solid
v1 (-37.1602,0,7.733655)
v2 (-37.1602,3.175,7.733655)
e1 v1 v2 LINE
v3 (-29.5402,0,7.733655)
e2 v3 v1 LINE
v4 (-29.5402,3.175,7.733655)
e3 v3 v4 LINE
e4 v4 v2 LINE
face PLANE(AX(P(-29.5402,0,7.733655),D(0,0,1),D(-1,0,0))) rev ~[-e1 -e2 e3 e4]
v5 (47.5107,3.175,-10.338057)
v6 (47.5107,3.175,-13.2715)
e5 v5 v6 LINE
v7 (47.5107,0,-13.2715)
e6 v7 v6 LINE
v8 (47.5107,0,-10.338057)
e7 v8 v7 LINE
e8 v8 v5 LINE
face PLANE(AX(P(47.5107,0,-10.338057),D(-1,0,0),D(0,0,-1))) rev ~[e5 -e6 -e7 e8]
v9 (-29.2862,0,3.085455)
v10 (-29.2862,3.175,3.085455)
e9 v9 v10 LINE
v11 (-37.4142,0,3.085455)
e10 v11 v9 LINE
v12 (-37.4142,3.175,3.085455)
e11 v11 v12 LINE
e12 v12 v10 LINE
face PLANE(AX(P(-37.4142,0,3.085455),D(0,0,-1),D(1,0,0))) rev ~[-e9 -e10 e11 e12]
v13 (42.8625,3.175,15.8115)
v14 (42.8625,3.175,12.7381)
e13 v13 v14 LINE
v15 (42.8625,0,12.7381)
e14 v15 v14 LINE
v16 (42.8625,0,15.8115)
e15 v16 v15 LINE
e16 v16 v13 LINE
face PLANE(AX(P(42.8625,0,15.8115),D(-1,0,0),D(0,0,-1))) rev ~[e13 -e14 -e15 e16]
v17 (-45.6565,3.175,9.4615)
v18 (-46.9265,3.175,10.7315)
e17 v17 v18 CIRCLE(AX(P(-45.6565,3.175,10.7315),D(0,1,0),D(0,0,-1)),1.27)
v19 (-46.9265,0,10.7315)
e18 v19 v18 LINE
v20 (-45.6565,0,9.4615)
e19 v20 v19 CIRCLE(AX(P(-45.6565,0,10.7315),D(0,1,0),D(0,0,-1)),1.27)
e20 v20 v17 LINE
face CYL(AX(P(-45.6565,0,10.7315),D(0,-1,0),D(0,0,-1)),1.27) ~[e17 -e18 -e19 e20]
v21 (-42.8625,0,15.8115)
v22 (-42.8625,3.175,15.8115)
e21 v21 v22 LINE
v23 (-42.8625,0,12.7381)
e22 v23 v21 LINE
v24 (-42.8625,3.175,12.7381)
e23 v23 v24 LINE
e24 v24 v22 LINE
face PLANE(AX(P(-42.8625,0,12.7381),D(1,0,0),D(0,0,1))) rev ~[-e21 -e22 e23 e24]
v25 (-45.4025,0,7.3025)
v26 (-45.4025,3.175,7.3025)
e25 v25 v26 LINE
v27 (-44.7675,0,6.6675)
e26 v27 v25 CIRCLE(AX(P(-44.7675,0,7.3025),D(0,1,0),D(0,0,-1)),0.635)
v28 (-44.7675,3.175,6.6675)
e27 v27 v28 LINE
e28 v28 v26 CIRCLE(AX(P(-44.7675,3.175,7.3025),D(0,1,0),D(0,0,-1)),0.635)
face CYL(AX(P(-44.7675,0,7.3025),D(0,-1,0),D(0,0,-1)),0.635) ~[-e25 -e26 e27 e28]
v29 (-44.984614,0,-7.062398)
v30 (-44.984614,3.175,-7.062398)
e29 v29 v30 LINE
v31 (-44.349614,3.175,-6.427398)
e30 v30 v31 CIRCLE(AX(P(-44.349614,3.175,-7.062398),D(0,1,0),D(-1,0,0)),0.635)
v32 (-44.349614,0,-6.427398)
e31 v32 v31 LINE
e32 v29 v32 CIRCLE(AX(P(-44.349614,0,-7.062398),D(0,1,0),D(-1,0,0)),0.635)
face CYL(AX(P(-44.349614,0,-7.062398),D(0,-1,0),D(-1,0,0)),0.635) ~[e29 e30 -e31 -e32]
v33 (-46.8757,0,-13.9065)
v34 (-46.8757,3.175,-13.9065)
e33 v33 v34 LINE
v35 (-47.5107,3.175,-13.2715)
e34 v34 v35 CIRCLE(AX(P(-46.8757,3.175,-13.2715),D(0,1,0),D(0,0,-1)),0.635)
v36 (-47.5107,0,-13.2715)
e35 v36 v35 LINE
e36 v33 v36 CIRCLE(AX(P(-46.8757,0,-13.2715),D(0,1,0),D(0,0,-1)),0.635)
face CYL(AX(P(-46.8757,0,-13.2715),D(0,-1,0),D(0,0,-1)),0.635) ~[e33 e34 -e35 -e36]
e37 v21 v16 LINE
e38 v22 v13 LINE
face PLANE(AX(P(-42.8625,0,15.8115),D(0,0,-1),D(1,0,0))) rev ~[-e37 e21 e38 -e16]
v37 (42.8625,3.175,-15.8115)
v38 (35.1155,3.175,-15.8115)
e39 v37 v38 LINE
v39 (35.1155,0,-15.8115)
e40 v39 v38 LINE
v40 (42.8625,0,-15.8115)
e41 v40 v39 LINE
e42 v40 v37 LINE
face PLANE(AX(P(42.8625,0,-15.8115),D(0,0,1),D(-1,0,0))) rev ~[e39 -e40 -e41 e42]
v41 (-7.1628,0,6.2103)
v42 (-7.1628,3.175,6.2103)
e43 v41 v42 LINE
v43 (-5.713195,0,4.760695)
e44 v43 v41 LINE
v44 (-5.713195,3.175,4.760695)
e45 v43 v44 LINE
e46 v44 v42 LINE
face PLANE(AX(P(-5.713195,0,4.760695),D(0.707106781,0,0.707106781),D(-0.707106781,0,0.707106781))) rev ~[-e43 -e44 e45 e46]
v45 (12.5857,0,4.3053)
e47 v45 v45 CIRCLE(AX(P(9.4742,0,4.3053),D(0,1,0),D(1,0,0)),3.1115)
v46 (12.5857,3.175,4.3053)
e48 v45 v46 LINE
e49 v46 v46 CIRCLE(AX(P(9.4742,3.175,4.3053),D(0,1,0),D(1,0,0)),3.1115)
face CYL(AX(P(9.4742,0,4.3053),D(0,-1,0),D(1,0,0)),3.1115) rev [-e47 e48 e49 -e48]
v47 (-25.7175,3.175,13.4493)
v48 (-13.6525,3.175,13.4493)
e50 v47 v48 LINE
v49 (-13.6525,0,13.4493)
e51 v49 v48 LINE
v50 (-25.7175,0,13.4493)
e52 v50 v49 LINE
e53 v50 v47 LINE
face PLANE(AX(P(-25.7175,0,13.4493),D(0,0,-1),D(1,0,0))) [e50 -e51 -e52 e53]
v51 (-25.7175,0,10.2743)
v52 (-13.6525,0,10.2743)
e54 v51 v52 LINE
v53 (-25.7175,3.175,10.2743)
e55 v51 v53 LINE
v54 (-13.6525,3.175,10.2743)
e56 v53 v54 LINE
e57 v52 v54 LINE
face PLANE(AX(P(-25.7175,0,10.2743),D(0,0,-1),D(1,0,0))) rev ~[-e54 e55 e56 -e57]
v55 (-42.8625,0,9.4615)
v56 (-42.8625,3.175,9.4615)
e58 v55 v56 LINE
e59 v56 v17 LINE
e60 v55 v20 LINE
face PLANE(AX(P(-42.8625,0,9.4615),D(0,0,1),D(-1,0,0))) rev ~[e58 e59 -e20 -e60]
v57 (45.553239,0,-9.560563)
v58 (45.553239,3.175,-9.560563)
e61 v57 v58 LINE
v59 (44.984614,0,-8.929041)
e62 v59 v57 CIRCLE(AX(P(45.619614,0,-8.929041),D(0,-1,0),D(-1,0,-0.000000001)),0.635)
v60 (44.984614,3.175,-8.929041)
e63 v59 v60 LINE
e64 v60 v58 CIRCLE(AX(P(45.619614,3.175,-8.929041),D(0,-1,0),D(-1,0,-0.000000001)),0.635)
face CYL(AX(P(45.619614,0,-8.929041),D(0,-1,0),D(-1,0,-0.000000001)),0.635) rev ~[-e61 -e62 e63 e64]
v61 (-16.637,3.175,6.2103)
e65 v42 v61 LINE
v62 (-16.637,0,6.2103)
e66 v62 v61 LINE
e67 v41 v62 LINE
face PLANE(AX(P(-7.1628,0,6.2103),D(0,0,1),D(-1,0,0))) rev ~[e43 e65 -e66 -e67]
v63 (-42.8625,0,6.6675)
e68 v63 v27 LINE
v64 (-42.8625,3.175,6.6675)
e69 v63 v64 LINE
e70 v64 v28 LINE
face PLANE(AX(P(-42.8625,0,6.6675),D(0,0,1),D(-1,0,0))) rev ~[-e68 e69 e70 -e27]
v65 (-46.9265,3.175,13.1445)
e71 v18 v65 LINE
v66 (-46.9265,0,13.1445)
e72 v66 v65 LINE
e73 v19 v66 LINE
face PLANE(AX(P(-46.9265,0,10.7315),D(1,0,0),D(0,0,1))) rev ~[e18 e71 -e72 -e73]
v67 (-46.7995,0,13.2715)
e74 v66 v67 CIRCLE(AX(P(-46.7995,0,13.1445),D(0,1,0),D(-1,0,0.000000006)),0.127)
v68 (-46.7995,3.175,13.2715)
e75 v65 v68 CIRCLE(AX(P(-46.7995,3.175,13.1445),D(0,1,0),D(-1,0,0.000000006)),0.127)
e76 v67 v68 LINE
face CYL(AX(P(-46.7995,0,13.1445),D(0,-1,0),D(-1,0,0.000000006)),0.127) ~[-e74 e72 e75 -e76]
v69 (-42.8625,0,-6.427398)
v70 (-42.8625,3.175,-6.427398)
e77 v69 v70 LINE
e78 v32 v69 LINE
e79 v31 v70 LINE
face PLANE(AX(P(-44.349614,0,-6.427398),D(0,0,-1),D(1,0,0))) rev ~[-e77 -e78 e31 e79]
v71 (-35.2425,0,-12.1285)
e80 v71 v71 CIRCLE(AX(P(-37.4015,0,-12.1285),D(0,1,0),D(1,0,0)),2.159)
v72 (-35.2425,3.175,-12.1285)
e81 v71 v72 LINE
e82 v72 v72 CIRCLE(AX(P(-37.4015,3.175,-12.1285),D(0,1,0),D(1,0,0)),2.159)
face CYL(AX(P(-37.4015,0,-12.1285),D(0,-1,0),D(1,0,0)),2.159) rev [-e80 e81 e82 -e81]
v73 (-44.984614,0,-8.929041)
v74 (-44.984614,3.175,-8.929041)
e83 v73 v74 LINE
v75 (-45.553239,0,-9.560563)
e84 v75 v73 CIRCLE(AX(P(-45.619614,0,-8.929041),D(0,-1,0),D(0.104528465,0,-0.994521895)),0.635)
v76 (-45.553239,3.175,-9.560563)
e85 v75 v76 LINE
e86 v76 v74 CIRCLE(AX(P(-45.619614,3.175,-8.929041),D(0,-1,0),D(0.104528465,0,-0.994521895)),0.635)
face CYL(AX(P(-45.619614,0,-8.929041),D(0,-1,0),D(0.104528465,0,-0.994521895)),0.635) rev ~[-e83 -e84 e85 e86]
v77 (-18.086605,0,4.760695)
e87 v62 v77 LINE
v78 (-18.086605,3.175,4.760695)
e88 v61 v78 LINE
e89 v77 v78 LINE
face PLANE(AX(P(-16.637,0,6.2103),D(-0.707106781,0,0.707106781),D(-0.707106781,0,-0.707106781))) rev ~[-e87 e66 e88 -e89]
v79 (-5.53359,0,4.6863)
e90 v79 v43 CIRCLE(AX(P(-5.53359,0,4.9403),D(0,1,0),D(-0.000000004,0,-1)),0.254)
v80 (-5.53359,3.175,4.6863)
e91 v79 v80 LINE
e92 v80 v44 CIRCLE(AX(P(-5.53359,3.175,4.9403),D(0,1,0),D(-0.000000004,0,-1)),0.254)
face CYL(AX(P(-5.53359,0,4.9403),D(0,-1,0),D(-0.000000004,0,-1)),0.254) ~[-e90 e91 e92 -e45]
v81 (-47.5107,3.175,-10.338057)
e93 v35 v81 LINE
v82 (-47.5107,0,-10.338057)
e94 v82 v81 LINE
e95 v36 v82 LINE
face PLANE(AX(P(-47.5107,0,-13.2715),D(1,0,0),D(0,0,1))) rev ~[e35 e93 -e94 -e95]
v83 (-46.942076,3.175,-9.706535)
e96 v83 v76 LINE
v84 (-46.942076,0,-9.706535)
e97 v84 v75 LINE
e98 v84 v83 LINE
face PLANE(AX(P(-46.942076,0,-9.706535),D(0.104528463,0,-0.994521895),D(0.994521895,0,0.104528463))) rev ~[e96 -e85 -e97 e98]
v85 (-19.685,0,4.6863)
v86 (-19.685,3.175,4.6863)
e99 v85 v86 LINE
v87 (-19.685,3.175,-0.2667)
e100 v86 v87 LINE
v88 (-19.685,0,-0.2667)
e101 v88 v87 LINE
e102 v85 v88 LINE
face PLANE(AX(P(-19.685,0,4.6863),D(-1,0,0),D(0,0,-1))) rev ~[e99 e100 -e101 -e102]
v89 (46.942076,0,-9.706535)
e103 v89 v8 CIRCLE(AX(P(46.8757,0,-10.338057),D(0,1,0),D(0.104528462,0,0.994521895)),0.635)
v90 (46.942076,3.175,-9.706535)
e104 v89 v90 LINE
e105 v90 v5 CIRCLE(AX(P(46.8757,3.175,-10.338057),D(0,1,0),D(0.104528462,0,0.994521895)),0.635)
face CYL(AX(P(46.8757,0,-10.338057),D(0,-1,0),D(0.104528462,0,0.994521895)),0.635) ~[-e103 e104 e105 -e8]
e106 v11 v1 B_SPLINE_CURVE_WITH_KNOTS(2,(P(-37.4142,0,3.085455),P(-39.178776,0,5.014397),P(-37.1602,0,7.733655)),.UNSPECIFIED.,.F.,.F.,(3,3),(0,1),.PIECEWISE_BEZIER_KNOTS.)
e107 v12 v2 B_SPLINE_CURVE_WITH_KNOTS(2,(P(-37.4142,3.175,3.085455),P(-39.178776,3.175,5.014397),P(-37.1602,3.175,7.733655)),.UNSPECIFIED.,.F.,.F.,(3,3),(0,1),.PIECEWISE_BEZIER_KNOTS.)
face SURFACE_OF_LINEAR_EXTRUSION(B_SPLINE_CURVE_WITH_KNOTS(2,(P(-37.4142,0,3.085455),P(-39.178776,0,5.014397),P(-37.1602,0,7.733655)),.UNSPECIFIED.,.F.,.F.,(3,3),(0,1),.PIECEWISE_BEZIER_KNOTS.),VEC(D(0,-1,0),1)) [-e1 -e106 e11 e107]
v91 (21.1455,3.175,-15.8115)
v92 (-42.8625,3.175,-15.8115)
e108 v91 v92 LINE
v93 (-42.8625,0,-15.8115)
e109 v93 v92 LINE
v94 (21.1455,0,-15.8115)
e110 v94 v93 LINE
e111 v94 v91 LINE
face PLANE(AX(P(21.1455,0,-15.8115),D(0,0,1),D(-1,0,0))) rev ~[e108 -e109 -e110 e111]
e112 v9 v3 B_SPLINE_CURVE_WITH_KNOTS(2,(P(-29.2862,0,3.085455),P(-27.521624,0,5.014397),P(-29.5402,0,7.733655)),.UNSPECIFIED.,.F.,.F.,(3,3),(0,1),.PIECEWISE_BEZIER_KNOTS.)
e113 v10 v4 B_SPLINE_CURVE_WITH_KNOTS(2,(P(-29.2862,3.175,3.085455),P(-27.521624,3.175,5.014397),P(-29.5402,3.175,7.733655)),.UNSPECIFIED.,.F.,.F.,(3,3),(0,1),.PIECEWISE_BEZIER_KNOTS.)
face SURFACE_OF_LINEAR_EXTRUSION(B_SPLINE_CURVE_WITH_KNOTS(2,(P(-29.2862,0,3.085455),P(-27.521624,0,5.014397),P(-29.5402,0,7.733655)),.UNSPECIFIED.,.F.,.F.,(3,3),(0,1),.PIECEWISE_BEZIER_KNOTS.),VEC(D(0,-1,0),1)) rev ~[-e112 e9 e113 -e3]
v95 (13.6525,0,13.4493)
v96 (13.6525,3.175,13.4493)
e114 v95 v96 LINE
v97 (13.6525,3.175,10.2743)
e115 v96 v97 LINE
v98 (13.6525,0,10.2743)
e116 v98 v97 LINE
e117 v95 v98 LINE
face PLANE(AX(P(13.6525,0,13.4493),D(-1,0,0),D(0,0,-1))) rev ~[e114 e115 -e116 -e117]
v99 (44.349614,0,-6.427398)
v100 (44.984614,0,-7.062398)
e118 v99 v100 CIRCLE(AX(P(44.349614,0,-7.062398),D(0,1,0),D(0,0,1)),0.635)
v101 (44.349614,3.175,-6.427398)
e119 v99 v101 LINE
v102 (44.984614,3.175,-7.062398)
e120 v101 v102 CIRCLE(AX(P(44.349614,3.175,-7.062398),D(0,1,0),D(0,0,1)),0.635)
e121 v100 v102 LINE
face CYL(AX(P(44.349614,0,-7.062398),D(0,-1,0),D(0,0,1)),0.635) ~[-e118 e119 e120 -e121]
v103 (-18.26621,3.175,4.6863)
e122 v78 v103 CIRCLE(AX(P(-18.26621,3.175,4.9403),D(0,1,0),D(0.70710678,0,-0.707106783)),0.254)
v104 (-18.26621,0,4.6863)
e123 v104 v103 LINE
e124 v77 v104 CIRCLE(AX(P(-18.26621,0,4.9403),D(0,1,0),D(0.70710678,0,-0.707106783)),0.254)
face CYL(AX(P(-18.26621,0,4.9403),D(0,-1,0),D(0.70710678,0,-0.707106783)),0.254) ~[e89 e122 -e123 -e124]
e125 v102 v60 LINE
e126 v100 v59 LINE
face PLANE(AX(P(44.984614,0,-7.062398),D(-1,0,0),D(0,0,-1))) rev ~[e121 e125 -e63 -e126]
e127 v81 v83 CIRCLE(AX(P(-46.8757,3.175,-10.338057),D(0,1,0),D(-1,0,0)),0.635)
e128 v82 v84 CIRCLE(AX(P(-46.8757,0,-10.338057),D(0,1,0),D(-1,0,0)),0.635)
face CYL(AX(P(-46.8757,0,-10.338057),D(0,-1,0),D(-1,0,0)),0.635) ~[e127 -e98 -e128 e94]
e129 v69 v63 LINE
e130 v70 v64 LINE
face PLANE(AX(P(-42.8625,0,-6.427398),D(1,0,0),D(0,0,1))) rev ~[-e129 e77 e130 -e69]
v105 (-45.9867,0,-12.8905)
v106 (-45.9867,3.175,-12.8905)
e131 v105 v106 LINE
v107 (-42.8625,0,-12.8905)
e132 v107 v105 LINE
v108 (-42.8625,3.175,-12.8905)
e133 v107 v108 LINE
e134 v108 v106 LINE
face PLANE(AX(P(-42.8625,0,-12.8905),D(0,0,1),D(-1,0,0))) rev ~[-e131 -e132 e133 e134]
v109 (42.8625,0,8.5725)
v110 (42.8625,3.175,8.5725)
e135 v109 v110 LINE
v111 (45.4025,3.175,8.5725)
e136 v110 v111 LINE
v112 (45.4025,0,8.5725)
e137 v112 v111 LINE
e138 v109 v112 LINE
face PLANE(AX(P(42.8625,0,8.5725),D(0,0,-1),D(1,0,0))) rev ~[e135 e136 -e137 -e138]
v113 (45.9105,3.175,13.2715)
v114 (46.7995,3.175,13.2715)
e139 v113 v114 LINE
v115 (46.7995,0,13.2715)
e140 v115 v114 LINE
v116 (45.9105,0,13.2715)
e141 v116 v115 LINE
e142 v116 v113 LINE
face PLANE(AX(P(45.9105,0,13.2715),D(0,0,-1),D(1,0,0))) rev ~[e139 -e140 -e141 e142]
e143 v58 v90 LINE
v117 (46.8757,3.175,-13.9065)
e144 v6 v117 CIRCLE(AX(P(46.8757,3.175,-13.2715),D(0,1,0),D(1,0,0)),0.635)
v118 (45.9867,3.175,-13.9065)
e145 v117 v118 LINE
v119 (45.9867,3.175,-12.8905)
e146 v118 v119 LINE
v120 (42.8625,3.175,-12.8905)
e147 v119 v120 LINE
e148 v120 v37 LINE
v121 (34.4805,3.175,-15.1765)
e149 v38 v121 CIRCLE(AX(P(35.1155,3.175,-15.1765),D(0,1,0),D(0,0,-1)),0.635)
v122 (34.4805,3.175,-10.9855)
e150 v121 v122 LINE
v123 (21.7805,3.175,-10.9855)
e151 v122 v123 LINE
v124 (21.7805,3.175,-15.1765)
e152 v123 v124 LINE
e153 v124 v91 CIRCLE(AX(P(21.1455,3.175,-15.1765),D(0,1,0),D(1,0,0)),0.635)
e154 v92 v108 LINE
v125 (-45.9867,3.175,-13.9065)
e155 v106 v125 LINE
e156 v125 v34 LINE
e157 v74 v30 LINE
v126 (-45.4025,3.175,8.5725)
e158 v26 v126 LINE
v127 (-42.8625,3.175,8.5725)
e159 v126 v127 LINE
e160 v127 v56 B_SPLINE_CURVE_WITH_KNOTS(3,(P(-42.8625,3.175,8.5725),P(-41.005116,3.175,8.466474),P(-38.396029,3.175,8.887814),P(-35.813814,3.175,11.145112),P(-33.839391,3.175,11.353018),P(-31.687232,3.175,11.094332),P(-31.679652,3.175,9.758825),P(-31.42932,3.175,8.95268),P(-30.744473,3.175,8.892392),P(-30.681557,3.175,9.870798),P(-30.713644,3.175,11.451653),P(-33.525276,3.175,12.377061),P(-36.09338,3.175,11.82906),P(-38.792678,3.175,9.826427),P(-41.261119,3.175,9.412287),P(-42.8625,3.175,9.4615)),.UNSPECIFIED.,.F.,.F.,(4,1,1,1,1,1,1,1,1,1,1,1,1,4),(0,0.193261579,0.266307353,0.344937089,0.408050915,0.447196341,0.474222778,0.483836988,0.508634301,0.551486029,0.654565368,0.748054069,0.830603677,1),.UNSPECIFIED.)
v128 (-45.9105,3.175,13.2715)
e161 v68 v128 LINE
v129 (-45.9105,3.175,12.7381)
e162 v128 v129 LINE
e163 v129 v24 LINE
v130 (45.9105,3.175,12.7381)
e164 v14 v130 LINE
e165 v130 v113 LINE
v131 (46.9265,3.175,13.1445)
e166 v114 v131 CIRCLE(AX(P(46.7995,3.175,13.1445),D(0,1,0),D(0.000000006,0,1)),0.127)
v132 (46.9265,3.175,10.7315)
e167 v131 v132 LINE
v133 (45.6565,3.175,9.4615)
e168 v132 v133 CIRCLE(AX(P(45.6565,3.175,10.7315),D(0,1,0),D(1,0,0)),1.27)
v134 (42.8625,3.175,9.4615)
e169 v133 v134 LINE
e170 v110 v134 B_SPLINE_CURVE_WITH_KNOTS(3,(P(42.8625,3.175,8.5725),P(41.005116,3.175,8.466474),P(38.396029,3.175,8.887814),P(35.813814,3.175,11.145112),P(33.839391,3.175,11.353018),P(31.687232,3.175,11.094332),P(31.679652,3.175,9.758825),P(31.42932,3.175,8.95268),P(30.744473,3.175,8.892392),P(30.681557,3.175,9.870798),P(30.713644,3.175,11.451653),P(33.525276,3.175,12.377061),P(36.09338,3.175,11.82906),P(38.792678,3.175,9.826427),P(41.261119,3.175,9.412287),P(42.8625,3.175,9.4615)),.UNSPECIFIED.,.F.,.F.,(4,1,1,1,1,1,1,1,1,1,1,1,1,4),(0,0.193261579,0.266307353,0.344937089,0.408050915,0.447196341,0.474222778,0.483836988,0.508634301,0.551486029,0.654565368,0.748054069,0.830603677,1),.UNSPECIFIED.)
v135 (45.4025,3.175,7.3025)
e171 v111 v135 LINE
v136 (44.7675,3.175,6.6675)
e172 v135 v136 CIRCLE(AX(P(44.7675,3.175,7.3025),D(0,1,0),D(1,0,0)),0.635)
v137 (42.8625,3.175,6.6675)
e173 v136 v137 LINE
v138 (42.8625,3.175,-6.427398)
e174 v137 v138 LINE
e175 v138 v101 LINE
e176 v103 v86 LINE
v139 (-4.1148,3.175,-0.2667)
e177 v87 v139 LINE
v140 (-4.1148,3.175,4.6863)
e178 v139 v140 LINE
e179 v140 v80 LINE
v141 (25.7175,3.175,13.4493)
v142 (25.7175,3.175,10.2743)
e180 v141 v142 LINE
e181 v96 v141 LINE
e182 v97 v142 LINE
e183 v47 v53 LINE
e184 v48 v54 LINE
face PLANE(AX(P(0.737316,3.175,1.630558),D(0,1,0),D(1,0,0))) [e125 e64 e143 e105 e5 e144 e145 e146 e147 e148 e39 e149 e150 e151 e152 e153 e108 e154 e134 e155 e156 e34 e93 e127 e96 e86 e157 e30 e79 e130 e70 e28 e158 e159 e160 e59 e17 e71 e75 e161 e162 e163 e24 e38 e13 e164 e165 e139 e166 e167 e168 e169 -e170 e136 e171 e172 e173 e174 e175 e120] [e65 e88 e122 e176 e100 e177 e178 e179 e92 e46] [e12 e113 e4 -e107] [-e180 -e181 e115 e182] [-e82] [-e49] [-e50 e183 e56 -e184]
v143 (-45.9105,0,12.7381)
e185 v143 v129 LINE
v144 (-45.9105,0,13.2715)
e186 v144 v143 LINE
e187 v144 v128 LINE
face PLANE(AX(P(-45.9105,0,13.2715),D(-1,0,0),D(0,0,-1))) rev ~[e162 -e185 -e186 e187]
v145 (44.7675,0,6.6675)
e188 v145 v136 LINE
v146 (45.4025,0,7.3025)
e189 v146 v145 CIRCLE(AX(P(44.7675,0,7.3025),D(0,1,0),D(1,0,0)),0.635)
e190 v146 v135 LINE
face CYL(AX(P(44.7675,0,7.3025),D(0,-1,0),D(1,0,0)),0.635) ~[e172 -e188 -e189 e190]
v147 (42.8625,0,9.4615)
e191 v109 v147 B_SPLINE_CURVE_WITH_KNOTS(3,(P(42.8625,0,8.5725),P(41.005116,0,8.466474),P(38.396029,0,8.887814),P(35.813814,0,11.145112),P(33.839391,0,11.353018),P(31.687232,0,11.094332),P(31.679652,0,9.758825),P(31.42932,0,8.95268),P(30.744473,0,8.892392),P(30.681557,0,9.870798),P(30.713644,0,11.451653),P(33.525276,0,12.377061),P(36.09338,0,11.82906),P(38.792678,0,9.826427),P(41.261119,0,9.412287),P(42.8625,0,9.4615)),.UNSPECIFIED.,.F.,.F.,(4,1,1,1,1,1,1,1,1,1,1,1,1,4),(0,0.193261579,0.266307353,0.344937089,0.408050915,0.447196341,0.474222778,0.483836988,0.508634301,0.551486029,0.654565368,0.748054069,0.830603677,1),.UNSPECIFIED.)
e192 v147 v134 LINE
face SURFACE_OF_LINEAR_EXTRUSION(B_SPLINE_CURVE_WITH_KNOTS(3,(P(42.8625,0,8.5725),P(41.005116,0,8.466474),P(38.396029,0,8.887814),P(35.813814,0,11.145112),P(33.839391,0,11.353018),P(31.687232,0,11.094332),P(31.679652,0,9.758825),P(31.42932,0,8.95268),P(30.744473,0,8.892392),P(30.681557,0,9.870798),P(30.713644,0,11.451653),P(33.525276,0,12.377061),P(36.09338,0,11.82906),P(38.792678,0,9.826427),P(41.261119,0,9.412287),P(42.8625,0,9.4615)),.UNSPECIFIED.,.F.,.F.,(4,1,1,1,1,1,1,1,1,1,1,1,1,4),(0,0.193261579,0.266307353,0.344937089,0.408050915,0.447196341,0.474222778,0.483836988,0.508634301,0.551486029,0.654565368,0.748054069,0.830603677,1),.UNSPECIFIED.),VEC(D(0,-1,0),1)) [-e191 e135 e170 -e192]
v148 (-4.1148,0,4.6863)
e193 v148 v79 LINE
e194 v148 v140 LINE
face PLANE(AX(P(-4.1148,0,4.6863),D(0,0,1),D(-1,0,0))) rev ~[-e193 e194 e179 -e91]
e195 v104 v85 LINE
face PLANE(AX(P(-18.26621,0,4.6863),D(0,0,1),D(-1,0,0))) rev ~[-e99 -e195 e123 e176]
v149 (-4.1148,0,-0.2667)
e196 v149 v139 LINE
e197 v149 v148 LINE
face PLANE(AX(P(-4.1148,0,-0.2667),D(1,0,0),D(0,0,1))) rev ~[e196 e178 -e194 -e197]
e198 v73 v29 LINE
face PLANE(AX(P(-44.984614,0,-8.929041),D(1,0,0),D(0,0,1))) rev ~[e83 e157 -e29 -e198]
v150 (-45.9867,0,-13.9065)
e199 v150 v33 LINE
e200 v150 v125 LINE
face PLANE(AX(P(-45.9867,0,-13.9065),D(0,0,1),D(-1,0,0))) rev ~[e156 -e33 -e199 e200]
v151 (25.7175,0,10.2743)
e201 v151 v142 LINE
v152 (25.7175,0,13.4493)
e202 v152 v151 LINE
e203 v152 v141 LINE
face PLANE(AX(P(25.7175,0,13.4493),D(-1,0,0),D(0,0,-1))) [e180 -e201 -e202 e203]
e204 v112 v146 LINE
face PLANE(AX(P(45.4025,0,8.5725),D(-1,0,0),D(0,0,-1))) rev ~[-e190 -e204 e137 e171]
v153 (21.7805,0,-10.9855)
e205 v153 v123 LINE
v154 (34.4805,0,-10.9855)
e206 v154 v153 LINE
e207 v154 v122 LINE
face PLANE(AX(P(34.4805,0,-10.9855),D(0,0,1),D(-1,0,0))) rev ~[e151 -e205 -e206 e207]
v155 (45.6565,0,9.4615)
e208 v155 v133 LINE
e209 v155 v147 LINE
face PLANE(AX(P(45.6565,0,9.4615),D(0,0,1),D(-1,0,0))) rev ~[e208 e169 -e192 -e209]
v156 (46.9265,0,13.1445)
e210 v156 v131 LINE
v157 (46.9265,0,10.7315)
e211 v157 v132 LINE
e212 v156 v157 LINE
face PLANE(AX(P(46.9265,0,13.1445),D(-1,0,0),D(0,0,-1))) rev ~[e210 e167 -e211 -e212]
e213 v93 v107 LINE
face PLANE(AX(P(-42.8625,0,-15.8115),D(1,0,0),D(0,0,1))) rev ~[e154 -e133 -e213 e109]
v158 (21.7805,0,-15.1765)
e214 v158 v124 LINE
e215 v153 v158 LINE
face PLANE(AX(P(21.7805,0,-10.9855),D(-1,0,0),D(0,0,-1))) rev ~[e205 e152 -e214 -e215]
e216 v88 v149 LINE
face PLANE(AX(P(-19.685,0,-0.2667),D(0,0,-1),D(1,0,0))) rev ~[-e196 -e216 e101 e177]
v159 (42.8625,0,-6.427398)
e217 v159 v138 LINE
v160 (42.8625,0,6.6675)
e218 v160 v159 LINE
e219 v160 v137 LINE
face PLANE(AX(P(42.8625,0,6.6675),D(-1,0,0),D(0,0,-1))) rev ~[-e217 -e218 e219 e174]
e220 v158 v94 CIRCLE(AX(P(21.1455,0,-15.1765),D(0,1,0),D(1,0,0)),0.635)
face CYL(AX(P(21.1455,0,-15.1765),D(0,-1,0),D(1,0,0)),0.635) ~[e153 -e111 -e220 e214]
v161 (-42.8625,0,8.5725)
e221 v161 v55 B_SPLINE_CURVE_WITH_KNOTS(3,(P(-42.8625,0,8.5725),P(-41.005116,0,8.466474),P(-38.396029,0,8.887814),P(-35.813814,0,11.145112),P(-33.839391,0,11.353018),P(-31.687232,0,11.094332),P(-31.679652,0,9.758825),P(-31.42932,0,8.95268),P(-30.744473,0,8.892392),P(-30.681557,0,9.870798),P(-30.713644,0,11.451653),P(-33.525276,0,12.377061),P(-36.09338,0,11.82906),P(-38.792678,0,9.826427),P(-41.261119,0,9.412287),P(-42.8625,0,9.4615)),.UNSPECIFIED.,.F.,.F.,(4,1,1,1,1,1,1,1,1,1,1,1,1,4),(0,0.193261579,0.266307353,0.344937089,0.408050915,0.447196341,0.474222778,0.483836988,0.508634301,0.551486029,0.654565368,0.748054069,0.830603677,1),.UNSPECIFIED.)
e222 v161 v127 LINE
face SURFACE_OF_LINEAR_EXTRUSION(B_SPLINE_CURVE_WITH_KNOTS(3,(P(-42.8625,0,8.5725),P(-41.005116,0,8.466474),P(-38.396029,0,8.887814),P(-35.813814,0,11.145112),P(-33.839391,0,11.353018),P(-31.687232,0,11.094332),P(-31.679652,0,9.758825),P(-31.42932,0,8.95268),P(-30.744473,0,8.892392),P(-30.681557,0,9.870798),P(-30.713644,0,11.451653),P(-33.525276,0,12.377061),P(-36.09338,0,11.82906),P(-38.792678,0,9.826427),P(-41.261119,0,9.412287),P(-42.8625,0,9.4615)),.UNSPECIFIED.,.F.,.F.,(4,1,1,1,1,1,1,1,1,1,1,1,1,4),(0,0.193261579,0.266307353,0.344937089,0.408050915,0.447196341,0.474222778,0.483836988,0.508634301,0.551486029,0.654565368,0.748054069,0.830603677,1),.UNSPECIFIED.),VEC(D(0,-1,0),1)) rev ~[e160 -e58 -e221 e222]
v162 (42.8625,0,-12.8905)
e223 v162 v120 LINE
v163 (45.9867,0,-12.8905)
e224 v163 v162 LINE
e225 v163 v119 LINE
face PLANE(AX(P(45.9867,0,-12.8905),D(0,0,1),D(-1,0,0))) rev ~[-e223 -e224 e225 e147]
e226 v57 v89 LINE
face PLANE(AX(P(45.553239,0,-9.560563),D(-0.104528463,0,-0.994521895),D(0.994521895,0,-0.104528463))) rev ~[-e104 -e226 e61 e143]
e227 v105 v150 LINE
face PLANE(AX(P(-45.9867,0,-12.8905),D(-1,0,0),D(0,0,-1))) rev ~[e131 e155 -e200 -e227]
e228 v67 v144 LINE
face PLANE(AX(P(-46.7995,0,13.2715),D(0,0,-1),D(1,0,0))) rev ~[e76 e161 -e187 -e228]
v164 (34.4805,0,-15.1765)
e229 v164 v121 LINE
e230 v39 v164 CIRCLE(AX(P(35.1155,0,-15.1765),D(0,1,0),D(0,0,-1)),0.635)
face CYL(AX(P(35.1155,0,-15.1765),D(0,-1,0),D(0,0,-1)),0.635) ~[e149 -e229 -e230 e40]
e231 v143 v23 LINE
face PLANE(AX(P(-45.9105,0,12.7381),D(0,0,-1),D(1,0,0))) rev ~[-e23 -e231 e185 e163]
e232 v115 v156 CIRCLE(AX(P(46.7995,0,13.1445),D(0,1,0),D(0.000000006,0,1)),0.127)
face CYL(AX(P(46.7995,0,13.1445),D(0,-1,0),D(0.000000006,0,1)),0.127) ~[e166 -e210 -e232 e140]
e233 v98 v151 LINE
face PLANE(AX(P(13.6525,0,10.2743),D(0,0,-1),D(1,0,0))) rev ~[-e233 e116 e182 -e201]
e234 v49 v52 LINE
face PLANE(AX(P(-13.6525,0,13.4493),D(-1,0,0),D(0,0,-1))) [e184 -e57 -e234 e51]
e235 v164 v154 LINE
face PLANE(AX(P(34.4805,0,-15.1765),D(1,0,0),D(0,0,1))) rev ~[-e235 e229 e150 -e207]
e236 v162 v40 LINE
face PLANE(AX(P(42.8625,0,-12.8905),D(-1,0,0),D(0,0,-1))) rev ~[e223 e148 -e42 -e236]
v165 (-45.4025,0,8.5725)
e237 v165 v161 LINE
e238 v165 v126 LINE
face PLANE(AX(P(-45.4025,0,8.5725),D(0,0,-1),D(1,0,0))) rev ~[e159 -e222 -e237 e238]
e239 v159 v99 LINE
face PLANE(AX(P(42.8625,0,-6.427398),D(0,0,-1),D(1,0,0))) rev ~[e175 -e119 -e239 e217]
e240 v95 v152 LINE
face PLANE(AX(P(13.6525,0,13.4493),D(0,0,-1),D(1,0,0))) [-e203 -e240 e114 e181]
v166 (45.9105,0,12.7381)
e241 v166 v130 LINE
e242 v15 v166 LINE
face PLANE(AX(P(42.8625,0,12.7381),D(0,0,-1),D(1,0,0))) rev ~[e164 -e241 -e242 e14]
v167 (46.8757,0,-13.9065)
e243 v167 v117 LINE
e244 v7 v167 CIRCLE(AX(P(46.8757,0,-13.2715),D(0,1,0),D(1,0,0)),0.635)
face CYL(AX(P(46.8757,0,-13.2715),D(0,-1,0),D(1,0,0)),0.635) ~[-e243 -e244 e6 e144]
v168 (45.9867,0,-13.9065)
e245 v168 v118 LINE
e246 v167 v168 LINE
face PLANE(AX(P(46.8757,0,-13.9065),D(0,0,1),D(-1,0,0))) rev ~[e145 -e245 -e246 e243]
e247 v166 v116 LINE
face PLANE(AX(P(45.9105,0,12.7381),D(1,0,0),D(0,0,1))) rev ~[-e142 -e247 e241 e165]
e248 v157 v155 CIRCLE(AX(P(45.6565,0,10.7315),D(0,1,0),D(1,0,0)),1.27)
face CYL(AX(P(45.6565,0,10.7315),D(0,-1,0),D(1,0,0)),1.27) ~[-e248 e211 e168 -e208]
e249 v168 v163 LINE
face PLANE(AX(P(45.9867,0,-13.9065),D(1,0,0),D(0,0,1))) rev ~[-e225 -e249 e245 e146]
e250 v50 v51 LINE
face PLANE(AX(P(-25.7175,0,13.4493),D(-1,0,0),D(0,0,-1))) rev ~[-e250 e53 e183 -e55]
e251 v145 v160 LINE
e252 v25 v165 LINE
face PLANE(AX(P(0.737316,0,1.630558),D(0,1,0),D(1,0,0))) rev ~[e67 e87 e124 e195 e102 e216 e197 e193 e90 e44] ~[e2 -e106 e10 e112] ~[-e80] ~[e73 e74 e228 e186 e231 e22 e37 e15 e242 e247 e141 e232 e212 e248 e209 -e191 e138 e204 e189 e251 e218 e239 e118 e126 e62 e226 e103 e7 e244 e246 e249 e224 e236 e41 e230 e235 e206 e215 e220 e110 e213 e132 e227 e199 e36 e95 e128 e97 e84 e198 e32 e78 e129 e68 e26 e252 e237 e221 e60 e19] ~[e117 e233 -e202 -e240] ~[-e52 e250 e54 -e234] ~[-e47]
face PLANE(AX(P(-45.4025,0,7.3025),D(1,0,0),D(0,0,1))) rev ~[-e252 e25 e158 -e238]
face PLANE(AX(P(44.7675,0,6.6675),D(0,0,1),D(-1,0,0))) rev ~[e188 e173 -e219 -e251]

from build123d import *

# Parameters (mm, degrees)
SKETCH1_R           = 2.159
SKETCH1_R_2         = 3.1115
SKETCH1_W           = 12.065
SKETCH1_H           = 3.175
BOSS_EXTRUDE1_DEPTH = 3.175


with BuildPart() as part:
    # Sketch1 → Boss-Extrude1 (new body)
    with BuildSketch(Plane(origin=(0, 0, 0), x_dir=(1, 0, 0), z_dir=(0, 1, 0))):
        with BuildLine():
            Line((34.4805, 15.1765), (34.4805, 10.9855))
            Line((34.4805, 10.9855), (21.7805, 10.9855))
            Line((21.7805, 10.9855), (21.7805, 15.1765))
            ThreePointArc((21.7805, 15.1765), (21.594512806, 15.625512806), (21.1455, 15.8115))
            Line((21.1455, 15.8115), (-42.8625, 15.8115))
            Line((-42.8625, 15.8115), (-42.8625, 12.8905))
            Line((-42.8625, 12.8905), (-45.9867, 12.8905))
            Line((-45.9867, 12.8905), (-45.9867, 13.9065))
            Line((-45.9867, 13.9065), (-46.8757, 13.9065))
            ThreePointArc((-46.8757, 13.9065), (-47.324712806, 13.720512806), (-47.5107, 13.2715))
            Line((-47.5107, 13.2715), (-47.5107, 10.338056568))
            ThreePointArc((-47.5107, 10.338056568), (-47.347596964, 9.913158633), (-46.942075574, 9.706535165))
            Line((-46.942075574, 9.706535165), (-45.553238812, 9.560562539))
            ThreePointArc((-45.553238812, 9.560562539), (-45.147717422, 9.35393907), (-44.984614386, 8.929041135))
            Line((-44.984614386, 8.929041135), (-44.984614386, 7.062397703))
            ThreePointArc((-44.984614386, 7.062397703), (-44.798627192, 6.613384897), (-44.349614386, 6.427397703))
            Line((-44.349614386, 6.427397703), (-42.8625, 6.427397703))
            Line((-42.8625, 6.427397703), (-42.8625, -6.6675))
            Line((-42.8625, -6.6675), (-44.7675, -6.6675))
            ThreePointArc((-44.7675, -6.6675), (-45.216512806, -6.853487194), (-45.4025, -7.3025))
            Line((-45.4025, -7.3025), (-45.4025, -8.5725))
            Line((-45.4025, -8.5725), (-42.8625, -8.5725))
            add(Edge.make_bspline(
                [(-42.8625, -8.5725), (-41.005115551, -8.466473625), (-38.396028509, -8.887813668), (-35.813813666, -11.145112068), (-33.839391095, -11.353018381), (-31.687232336, -11.094331604), (-31.679651614, -9.758824593), (-31.429319526, -8.952680122), (-30.744472831, -8.892392446), (-30.681556581, -9.870798346), (-30.713644348, -11.451652587), (-33.525275685, -12.377060787), (-36.093380331, -11.829060286), (-38.792678311, -9.826426979), (-41.261119489, -9.41228692), (-42.8625, -9.4615)],
                knots=[0, 0, 0, 0, 0.193261579, 0.266307353, 0.344937089, 0.408050915, 0.447196341, 0.474222778, 0.483836988, 0.508634301, 0.551486029, 0.654565368, 0.748054069, 0.830603677, 1, 1, 1, 1], degree=3))
            Line((-42.8625, -9.4615), (-45.4025, -9.4615))
            Line((-45.4025, -9.4615), (-45.6565, -9.4615))
            ThreePointArc((-45.6565, -9.4615), (-46.554525612, -9.833474388), (-46.9265, -10.7315))
            Line((-46.9265, -10.7315), (-46.9265, -13.1445))
            ThreePointArc((-46.9265, -13.1445), (-46.889302561, -13.234302561), (-46.7995, -13.2715))
            Line((-46.7995, -13.2715), (-45.9105, -13.2715))
            Line((-45.9105, -13.2715), (-45.9105, -12.7381))
            Line((-45.9105, -12.7381), (-42.8625, -12.7381))
            Line((-42.8625, -12.7381), (-42.8625, -15.8115))
            Line((-42.8625, -15.8115), (42.8625, -15.8115))
            Line((42.8625, -15.8115), (42.8625, -12.7381))
            Line((42.8625, -12.7381), (45.9105, -12.7381))
            Line((45.9105, -12.7381), (45.9105, -13.2715))
            Line((45.9105, -13.2715), (46.7995, -13.2715))
            ThreePointArc((46.7995, -13.2715), (46.889302561, -13.234302561), (46.9265, -13.1445))
            Line((46.9265, -13.1445), (46.9265, -10.7315))
            ThreePointArc((46.9265, -10.7315), (46.554525612, -9.833474388), (45.6565, -9.4615))
            Line((45.6565, -9.4615), (45.4025, -9.4615))
            Line((45.4025, -9.4615), (42.8625, -9.4615))
            add(Edge.make_bspline(
                [(42.8625, -8.5725), (41.005115551, -8.466473625), (38.396028509, -8.887813668), (35.813813666, -11.145112068), (33.839391095, -11.353018381), (31.687232336, -11.094331604), (31.679651614, -9.758824593), (31.429319526, -8.952680122), (30.744472831, -8.892392446), (30.681556581, -9.870798346), (30.713644348, -11.451652587), (33.525275685, -12.377060787), (36.093380331, -11.829060286), (38.792678311, -9.826426979), (41.261119489, -9.41228692), (42.8625, -9.4615)],
                knots=[0, 0, 0, 0, 0.193261579, 0.266307353, 0.344937089, 0.408050915, 0.447196341, 0.474222778, 0.483836988, 0.508634301, 0.551486029, 0.654565368, 0.748054069, 0.830603677, 1, 1, 1, 1], degree=3))
            Line((42.8625, -8.5725), (45.4025, -8.5725))
            Line((45.4025, -8.5725), (45.4025, -7.3025))
            ThreePointArc((45.4025, -7.3025), (45.216512806, -6.853487194), (44.7675, -6.6675))
            Line((44.7675, -6.6675), (42.8625, -6.6675))
            Line((42.8625, -6.6675), (42.8625, 6.427397703))
            Line((42.8625, 6.427397703), (44.349614386, 6.427397703))
            ThreePointArc((44.349614386, 6.427397703), (44.798627192, 6.613384897), (44.984614386, 7.062397703))
            Line((44.984614386, 7.062397703), (44.984614386, 8.929041135))
            ThreePointArc((44.984614386, 8.929041135), (45.147717422, 9.35393907), (45.553238812, 9.560562539))
            Line((45.553238812, 9.560562539), (46.942075574, 9.706535165))
            ThreePointArc((46.942075574, 9.706535165), (47.347596964, 9.913158633), (47.5107, 10.338056568))
            Line((47.5107, 10.338056568), (47.5107, 13.2715))
            ThreePointArc((47.5107, 13.2715), (47.324712806, 13.720512806), (46.8757, 13.9065))
            Line((46.8757, 13.9065), (45.9867, 13.9065))
            Line((45.9867, 13.9065), (45.9867, 12.8905))
            Line((45.9867, 12.8905), (42.8625, 12.8905))
            Line((42.8625, 12.8905), (42.8625, 15.8115))
            Line((42.8625, 15.8115), (35.1155, 15.8115))
            ThreePointArc((35.1155, 15.8115), (34.666487194, 15.625512806), (34.4805, 15.1765))
        make_face()
        with Locations((-37.4015, 12.1285)):
            Circle(SKETCH1_R, mode=Mode.SUBTRACT)
        with Locations((9.4742, -4.3053)):
            Circle(SKETCH1_R_2, mode=Mode.SUBTRACT)
        with Locations((19.685, -11.8618)):
            Rectangle(SKETCH1_W, SKETCH1_H, mode=Mode.SUBTRACT)
        with Locations((-19.685, -11.8618)):
            Rectangle(SKETCH1_W, SKETCH1_H, mode=Mode.SUBTRACT)
        with BuildLine():
            Line((-19.685, 0.2667), (-4.1148, 0.2667))
            Line((-4.1148, 0.2667), (-4.1148, -4.6863))
            Line((-4.1148, -4.6863), (-5.533589755, -4.6863))
            ThreePointArc((-5.533589755, -4.6863), (-5.630791347, -4.705634599), (-5.713194878, -4.760694878))
            Line((-5.713194878, -4.760694878), (-7.1628, -6.2103))
            Line((-7.1628, -6.2103), (-16.637, -6.2103))
            Line((-16.637, -6.2103), (-18.086605122, -4.760694878))
            ThreePointArc((-18.086605122, -4.760694878), (-18.169008653, -4.705634599), (-18.266210245, -4.6863))
            Line((-18.266210245, -4.6863), (-19.685, -4.6863))
            Line((-19.685, -4.6863), (-19.685, 0.2667))
        make_face(mode=Mode.SUBTRACT)
        with BuildLine():
            Line((-37.4142, -3.085455207), (-29.2862, -3.085455207))
            add(Edge.make_bspline(
                [(-29.2862, -3.085455207), (-27.521624407, -5.014397473), (-29.5402, -7.733655207)],
                knots=[0, 0, 0, 1, 1, 1], degree=2))
            Line((-29.5402, -7.733655207), (-37.1602, -7.733655207))
            add(Edge.make_bspline(
                [(-37.4142, -3.085455207), (-39.178775593, -5.014397473), (-37.1602, -7.733655207)],
                knots=[0, 0, 0, 1, 1, 1], degree=2))
        make_face(mode=Mode.SUBTRACT)
    extrude(amount=BOSS_EXTRUDE1_DEPTH)


solid = part.part
